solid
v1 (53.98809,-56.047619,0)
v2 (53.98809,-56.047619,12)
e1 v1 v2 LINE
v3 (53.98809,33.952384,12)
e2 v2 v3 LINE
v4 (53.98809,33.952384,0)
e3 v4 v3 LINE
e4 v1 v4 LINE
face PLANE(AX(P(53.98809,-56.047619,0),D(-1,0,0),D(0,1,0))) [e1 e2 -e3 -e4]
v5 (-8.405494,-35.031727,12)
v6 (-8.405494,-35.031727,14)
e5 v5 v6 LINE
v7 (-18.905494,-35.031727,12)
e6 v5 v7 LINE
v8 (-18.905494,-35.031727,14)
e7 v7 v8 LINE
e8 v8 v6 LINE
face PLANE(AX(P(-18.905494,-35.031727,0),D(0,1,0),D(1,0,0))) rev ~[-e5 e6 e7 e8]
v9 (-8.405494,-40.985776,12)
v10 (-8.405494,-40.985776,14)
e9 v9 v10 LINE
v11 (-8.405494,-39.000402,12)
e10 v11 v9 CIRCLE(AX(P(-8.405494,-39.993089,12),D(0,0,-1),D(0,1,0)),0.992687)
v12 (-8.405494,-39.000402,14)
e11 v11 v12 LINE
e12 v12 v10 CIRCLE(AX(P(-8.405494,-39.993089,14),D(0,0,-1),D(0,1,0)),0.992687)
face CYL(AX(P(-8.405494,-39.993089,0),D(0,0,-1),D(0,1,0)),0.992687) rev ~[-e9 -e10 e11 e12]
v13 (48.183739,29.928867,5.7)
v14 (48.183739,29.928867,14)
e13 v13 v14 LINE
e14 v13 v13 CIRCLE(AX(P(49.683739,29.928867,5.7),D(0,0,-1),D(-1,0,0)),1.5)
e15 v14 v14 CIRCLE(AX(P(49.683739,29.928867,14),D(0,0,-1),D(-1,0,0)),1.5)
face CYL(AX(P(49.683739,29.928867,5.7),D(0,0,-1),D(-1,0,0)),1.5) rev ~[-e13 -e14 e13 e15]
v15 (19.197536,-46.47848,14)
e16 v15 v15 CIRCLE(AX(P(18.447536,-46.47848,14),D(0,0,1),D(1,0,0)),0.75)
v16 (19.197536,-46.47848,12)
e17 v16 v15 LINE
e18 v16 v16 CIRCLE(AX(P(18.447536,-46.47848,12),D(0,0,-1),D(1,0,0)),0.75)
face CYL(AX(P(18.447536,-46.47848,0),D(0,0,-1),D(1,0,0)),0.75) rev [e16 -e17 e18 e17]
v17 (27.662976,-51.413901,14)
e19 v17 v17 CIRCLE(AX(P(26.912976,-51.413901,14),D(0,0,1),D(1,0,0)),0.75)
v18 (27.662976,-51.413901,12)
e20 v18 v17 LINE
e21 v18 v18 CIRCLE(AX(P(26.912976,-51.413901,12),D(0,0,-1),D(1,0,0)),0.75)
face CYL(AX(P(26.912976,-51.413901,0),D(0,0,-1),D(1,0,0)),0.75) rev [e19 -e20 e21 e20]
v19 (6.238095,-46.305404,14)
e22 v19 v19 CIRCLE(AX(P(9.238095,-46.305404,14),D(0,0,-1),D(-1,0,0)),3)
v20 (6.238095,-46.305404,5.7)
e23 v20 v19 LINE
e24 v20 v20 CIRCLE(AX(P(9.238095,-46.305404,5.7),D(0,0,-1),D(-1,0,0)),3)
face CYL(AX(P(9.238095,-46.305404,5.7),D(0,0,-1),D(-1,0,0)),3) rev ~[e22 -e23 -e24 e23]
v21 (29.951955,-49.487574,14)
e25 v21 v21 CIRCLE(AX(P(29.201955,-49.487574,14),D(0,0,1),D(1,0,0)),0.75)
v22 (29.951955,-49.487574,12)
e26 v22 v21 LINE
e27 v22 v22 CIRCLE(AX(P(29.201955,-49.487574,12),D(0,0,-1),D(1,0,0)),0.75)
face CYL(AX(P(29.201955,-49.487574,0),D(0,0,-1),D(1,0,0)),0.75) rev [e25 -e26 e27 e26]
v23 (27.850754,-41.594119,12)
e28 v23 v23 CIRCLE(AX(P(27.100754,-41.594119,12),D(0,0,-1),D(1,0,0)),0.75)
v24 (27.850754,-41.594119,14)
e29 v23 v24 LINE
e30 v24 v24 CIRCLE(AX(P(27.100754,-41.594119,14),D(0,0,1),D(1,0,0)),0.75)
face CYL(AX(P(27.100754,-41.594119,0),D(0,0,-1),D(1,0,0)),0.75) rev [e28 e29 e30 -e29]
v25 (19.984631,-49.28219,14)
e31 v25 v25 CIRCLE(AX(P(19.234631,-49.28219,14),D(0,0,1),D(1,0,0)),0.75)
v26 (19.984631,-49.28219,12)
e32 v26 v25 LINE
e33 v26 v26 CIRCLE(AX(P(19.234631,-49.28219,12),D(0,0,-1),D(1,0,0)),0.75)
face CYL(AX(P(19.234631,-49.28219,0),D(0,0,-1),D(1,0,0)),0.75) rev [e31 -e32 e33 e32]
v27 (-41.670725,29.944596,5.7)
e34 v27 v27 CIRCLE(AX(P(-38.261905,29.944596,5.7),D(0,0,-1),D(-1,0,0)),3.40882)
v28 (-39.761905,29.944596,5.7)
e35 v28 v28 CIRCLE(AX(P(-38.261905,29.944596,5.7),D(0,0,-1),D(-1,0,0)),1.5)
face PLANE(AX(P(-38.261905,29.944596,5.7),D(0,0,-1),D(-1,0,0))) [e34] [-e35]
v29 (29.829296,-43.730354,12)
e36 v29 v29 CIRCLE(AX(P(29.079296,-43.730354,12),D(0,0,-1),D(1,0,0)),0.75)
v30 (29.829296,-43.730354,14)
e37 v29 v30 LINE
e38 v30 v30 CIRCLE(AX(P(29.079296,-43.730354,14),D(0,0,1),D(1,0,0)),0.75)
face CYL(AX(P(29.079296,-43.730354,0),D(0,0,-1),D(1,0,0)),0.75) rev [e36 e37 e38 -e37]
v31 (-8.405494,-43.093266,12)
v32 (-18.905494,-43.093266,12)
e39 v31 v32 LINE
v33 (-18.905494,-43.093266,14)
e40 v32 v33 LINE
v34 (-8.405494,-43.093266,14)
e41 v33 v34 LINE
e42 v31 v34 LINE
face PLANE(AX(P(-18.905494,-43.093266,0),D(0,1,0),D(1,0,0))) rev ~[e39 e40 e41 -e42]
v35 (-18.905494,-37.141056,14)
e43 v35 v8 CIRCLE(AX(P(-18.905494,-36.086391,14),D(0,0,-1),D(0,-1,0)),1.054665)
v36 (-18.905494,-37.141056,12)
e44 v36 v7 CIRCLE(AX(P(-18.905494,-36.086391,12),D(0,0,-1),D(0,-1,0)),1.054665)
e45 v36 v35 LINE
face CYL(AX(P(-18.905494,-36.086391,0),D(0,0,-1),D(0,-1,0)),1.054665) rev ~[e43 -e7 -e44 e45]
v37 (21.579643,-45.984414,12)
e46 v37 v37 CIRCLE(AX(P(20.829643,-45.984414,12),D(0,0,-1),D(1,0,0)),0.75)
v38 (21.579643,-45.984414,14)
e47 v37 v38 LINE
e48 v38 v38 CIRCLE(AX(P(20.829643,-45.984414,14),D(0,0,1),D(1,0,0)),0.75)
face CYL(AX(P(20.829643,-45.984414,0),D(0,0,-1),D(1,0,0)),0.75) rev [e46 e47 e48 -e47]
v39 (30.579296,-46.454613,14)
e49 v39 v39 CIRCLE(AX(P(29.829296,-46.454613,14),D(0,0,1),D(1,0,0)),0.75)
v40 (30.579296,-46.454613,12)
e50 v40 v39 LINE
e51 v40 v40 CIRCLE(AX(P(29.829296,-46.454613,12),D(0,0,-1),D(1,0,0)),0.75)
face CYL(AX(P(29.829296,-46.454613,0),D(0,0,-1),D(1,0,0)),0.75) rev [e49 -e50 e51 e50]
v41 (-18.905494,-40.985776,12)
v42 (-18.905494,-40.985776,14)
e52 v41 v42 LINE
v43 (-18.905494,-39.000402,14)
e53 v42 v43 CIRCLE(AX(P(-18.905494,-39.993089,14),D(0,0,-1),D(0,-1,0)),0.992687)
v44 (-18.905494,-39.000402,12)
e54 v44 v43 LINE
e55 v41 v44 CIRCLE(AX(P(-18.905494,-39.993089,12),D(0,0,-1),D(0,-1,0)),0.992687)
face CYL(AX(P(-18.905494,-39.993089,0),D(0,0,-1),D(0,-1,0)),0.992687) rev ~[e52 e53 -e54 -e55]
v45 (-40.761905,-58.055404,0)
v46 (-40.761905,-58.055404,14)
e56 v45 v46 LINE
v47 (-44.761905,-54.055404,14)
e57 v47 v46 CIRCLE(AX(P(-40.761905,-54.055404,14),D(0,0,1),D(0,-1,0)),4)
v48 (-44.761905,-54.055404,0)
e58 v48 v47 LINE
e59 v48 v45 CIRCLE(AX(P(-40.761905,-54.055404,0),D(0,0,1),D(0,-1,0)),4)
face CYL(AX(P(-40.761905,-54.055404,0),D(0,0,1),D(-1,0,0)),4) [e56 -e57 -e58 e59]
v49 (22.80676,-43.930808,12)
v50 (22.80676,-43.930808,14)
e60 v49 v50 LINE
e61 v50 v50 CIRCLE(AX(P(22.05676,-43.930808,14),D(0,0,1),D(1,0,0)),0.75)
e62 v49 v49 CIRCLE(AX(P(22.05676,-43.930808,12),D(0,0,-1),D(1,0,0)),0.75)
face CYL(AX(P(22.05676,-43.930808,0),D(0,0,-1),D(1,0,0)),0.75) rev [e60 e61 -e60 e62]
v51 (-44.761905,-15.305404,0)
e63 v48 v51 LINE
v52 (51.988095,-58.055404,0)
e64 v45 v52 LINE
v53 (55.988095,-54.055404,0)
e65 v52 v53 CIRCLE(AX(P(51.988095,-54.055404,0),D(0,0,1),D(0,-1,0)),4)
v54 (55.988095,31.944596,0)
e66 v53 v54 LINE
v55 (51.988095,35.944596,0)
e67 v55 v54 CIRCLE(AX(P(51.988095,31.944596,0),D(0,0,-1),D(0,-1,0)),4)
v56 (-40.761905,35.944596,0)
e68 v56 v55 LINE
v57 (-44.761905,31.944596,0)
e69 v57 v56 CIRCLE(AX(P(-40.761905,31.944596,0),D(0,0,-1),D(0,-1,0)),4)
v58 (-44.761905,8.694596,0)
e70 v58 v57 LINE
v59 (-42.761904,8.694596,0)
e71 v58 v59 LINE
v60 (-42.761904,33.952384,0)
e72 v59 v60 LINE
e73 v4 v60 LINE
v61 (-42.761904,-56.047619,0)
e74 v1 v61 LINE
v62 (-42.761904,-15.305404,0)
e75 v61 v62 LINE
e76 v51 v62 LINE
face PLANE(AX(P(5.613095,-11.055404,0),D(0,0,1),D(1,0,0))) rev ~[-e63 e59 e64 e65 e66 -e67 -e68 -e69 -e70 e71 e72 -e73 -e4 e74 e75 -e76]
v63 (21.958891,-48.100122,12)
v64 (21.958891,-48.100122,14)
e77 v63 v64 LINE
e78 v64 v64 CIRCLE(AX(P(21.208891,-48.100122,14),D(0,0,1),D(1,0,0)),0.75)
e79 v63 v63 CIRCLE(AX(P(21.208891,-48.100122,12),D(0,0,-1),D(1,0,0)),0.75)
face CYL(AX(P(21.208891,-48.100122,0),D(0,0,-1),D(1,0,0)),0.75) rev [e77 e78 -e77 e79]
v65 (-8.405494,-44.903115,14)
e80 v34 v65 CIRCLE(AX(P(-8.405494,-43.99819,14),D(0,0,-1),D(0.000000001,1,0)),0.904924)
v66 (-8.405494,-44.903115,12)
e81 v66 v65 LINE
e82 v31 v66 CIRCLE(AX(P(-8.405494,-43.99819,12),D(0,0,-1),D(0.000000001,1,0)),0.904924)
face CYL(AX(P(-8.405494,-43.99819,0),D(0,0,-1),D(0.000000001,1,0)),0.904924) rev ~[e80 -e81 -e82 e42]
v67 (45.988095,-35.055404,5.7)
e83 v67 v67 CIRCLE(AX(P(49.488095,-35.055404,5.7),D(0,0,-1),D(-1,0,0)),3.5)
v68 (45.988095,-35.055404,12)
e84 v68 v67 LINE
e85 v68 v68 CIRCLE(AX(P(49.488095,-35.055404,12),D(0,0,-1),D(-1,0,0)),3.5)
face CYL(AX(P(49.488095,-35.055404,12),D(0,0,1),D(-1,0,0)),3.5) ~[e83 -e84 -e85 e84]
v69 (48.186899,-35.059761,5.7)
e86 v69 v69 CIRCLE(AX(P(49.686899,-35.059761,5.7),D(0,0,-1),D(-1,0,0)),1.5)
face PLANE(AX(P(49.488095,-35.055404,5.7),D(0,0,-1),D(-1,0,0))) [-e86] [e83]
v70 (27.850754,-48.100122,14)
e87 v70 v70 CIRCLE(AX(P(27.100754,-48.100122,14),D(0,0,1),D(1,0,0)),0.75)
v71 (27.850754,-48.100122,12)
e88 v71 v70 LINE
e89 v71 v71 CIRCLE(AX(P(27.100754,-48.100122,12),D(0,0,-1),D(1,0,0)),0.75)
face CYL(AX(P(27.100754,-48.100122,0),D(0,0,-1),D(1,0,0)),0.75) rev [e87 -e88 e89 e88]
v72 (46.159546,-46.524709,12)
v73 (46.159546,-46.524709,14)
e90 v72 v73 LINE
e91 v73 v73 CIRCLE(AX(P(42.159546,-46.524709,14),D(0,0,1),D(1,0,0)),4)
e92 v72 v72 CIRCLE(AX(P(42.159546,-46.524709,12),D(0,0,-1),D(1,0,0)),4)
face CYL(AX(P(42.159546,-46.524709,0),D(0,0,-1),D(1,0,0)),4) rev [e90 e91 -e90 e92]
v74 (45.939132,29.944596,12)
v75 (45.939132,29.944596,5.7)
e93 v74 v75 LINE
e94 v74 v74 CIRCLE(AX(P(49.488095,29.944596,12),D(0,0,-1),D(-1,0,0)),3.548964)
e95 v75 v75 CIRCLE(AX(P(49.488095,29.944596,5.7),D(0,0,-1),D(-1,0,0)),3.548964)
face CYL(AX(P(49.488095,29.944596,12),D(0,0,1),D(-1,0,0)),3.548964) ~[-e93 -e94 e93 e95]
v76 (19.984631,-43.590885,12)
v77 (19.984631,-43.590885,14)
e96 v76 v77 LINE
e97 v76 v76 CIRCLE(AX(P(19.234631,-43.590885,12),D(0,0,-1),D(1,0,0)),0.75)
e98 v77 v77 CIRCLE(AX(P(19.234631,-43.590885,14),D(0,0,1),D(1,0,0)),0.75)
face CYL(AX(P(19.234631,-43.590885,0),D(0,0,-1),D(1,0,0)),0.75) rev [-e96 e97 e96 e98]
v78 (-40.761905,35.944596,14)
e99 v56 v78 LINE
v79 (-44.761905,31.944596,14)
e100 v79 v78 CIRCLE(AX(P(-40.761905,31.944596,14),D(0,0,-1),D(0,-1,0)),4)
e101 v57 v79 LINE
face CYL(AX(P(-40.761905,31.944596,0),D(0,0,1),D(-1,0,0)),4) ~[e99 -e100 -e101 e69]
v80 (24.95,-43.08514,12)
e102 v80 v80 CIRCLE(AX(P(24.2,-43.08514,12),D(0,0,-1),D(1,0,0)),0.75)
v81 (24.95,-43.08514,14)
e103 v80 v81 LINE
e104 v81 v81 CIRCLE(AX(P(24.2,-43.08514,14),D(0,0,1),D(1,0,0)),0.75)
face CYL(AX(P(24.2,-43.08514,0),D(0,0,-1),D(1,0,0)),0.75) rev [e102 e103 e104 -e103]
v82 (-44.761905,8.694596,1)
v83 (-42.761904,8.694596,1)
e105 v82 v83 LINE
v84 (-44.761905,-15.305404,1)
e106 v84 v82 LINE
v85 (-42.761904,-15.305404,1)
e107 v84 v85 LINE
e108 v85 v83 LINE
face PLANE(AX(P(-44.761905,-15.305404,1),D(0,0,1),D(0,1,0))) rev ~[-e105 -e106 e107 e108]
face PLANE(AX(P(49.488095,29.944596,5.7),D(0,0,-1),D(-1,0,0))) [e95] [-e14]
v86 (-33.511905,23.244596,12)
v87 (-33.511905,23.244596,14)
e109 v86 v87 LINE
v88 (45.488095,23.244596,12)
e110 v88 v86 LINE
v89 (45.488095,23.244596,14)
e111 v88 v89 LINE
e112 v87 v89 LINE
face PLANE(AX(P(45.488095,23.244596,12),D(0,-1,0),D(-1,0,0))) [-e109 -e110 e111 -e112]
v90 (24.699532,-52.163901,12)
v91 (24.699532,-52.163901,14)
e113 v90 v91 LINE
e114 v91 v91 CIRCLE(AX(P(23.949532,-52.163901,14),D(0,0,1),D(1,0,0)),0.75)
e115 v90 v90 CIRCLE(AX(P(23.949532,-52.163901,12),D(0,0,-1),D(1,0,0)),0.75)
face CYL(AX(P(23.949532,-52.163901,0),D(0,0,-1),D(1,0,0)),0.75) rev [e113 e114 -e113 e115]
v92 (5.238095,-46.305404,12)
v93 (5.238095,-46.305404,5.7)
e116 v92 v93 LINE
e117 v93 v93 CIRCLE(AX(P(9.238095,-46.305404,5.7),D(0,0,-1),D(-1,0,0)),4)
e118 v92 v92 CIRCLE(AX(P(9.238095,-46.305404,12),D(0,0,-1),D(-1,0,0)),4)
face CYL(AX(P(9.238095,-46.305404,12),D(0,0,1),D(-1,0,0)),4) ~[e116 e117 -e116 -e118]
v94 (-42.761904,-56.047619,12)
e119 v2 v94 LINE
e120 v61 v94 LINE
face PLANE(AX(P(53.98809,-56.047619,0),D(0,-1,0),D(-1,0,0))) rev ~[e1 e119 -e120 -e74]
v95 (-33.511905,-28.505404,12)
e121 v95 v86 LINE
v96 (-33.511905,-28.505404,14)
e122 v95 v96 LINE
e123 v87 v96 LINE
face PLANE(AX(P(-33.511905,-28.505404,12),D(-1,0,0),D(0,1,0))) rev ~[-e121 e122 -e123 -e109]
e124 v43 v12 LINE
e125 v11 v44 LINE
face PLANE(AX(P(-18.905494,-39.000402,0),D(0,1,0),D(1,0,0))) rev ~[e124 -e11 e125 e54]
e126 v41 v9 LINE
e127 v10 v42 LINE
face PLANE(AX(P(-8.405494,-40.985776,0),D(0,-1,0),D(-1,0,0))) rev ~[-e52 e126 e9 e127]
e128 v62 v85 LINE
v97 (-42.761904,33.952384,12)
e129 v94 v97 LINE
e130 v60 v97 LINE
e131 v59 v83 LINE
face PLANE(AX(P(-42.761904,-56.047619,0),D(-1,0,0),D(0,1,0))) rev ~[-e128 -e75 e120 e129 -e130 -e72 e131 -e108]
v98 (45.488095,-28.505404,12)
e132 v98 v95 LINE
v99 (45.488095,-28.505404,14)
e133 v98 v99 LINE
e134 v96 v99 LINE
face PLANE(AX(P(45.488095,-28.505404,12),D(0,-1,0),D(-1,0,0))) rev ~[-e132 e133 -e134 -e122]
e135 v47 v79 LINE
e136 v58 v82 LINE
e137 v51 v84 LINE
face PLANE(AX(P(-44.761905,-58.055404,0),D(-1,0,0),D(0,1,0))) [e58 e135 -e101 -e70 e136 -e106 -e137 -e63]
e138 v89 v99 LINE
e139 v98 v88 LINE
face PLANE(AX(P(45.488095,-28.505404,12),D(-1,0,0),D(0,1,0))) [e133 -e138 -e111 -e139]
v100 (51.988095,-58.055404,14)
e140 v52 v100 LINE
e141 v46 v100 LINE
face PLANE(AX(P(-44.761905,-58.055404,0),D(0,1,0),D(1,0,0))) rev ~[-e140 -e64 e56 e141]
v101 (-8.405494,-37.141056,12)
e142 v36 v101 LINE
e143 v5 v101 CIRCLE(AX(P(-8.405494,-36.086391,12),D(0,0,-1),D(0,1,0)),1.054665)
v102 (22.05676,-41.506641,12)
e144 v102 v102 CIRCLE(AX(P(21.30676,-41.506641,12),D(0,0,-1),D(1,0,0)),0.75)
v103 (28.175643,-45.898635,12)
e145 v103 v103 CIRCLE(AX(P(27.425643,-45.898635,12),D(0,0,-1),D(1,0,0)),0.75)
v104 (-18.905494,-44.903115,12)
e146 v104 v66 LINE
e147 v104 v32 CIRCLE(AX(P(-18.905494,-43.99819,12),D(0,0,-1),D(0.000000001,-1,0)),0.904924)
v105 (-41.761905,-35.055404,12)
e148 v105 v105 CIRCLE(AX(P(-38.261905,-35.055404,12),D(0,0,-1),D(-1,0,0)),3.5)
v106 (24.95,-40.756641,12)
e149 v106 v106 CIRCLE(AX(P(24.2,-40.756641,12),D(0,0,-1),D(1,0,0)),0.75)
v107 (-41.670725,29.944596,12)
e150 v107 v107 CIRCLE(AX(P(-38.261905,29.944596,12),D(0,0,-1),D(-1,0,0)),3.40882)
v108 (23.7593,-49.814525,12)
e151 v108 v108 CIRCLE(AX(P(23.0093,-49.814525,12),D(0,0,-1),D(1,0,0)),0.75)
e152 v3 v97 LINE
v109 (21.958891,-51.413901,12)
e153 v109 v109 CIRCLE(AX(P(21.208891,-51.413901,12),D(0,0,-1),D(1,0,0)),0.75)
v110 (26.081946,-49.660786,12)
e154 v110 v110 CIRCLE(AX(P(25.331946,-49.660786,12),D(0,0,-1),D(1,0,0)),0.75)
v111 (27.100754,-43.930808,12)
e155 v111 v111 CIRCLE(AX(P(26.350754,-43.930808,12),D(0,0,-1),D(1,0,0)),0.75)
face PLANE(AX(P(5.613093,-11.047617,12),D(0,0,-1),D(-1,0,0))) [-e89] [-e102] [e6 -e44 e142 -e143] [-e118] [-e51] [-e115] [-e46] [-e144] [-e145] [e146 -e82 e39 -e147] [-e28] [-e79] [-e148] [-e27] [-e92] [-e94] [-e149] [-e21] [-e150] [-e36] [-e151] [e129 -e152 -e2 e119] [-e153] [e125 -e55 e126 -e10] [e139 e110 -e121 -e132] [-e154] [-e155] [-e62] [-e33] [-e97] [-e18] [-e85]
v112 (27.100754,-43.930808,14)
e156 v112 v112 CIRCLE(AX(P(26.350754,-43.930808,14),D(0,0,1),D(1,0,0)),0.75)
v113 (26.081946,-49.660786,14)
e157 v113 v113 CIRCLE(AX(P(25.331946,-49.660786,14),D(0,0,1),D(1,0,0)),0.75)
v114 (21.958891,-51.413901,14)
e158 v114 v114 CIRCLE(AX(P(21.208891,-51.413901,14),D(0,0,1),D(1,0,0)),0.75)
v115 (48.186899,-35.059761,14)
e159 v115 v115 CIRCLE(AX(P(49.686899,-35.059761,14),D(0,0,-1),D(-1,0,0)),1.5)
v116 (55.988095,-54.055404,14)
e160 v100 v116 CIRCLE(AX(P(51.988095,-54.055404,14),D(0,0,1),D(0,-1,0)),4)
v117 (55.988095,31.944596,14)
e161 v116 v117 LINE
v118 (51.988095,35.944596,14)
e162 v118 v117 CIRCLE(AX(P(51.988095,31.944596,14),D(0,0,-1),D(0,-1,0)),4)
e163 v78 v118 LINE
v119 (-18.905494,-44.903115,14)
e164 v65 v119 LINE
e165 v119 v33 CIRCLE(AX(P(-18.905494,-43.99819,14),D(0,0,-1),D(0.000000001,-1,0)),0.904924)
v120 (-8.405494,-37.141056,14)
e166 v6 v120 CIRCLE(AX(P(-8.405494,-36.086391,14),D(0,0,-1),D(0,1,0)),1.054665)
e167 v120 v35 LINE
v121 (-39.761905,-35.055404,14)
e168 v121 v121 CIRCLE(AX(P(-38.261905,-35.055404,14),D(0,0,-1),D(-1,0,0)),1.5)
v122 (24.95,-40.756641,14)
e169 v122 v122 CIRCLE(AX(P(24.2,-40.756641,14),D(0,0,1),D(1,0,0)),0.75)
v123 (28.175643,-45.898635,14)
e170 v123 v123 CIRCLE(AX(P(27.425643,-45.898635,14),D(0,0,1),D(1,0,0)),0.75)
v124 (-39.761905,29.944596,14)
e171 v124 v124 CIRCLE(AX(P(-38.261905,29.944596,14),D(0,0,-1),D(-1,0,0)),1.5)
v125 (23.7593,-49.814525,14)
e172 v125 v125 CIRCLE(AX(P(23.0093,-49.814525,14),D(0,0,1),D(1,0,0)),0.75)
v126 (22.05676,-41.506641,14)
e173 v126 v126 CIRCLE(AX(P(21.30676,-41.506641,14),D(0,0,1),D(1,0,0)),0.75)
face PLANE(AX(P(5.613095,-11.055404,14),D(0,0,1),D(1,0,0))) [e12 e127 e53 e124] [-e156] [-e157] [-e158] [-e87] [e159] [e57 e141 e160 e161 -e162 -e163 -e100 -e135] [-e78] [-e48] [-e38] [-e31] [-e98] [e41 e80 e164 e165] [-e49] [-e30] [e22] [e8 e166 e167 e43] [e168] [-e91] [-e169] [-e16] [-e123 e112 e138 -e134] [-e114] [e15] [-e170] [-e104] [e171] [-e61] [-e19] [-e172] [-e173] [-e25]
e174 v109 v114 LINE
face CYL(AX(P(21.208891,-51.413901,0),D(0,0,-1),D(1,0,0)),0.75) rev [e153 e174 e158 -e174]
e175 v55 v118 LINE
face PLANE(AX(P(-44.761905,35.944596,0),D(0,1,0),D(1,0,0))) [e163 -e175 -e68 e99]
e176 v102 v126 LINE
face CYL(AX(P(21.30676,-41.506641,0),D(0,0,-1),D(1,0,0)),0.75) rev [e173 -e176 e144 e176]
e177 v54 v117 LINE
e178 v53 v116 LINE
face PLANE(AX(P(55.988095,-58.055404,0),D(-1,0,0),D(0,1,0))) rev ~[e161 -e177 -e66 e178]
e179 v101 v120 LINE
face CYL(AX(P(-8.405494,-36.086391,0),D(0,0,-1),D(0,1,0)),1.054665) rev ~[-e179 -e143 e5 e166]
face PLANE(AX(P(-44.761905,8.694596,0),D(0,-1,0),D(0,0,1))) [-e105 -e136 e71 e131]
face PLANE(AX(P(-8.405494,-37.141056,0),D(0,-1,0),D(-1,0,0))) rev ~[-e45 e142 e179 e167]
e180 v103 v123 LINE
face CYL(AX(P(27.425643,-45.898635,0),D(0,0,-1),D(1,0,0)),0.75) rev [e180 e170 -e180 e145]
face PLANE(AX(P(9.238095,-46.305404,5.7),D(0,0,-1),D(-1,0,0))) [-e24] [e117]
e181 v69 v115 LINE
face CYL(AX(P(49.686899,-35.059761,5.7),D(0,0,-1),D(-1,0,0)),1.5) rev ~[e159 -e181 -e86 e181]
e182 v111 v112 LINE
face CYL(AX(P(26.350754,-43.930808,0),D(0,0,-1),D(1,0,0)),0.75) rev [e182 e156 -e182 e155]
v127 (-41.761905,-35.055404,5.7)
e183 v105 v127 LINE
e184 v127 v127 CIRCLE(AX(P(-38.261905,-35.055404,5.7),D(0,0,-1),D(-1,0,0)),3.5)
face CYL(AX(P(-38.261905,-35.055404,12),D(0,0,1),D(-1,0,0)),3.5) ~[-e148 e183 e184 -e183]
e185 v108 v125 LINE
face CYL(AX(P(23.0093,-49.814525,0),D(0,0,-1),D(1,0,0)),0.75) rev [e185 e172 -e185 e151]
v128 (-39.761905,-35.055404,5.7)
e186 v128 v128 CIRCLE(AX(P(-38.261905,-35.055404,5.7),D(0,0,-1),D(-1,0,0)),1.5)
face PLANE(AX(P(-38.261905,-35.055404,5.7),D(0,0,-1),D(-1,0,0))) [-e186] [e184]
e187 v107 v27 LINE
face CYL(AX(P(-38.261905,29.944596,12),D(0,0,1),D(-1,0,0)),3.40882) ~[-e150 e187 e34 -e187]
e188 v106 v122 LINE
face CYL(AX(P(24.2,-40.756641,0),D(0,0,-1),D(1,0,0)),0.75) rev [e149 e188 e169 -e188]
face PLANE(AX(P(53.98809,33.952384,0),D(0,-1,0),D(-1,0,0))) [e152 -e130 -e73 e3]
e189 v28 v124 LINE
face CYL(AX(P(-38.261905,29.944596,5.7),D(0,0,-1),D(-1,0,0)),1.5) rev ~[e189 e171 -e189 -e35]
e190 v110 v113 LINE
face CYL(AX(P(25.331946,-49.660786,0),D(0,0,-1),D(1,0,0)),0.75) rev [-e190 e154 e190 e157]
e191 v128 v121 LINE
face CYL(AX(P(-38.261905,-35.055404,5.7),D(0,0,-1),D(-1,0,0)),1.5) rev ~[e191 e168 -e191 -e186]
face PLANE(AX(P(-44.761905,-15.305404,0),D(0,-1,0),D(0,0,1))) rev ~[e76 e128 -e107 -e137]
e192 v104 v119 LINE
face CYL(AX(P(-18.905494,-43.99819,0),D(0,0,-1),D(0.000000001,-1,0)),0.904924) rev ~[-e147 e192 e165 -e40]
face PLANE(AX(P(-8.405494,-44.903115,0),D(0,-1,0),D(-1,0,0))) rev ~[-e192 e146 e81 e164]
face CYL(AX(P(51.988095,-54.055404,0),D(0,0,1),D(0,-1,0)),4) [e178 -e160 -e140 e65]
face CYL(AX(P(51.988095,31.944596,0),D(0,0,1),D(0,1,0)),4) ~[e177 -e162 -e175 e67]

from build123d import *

# Parameters (mm, degrees)
SKETCH1_W           = 100.75
SKETCH1_H           = 94
SKETCH1_R           = 4
SKETCH1_R_2         = 0.75
BOSS_EXTRUDE1_DEPTH = 14
SKETCH2_W           = 96.749994904
SKETCH2_H           = 90.000003576
CUT_EXTRUDE1_DEPTH  = 12
SKETCH3_R           = 3.548963513
SKETCH3_R_2         = 3.408819902
SKETCH3_R_3         = 3.5
BOSS_EXTRUDE2_DEPTH = 6.3
SKETCH4_R           = 4
BOSS_EXTRUDE3_DEPTH = 6.3
SKETCH7_R           = 1.5
CUT_EXTRUDE2_DEPTH  = 10
SKETCH11_R          = 3
CUT_EXTRUDE3_DEPTH  = 10
SKETCH10_R          = 1.5
CUT_EXTRUDE4_DEPTH  = 10
SKETCH9_R           = 1.5
CUT_EXTRUDE5_DEPTH  = 10
SKETCH12_W          = 79
SKETCH12_H          = 51.75
CUT_EXTRUDE6_DEPTH  = 6.3
FILLET1_R           = 4
SKETCH13_W          = 1
SKETCH13_H          = 24
CUT_EXTRUDE7_DEPTH  = 3


with BuildPart() as part:
    # Sketch1 → Boss-Extrude1 (new body)
    with BuildSketch(Plane.XY):
        with Locations((5.613095238, -11.055404346)):
            Rectangle(SKETCH1_W, SKETCH1_H)
        with Locations((42.159546405, -46.524709499)):
            Circle(SKETCH1_R, mode=Mode.SUBTRACT)
        with Locations((18.44753625, -46.478480461)):
            Circle(SKETCH1_R_2, mode=Mode.SUBTRACT)
        with Locations((19.234631499, -43.590885312)):
            Circle(SKETCH1_R_2, mode=Mode.SUBTRACT)
        with Locations((21.306759983, -41.506641185)):
            Circle(SKETCH1_R_2, mode=Mode.SUBTRACT)
        with Locations((24.200000332, -40.756641185)):
            Circle(SKETCH1_R_2, mode=Mode.SUBTRACT)
        with Locations((27.10075415, -41.594119124)):
            Circle(SKETCH1_R_2, mode=Mode.SUBTRACT)
        with Locations((29.079295953, -43.730354454)):
            Circle(SKETCH1_R_2, mode=Mode.SUBTRACT)
        with Locations((26.35075415, -43.930808011)):
            Circle(SKETCH1_R_2, mode=Mode.SUBTRACT)
        with Locations((24.200000332, -43.085140439)):
            Circle(SKETCH1_R_2, mode=Mode.SUBTRACT)
        with Locations((22.056759983, -43.930808011)):
            Circle(SKETCH1_R_2, mode=Mode.SUBTRACT)
        with Locations((20.829643134, -45.984414142)):
            Circle(SKETCH1_R_2, mode=Mode.SUBTRACT)
        with Locations((21.208891166, -48.100122201)):
            Circle(SKETCH1_R_2, mode=Mode.SUBTRACT)
        with Locations((23.009299731, -49.814525249)):
            Circle(SKETCH1_R_2, mode=Mode.SUBTRACT)
        with Locations((25.331945715, -49.660785564)):
            Circle(SKETCH1_R_2, mode=Mode.SUBTRACT)
        with Locations((27.10075415, -48.100122201)):
            Circle(SKETCH1_R_2, mode=Mode.SUBTRACT)
        with Locations((27.425643307, -45.898634663)):
            Circle(SKETCH1_R_2, mode=Mode.SUBTRACT)
        with Locations((29.829295953, -46.454612718)):
            Circle(SKETCH1_R_2, mode=Mode.SUBTRACT)
        with Locations((29.201955135, -49.487574185)):
            Circle(SKETCH1_R_2, mode=Mode.SUBTRACT)
        with Locations((26.912976345, -51.413900689)):
            Circle(SKETCH1_R_2, mode=Mode.SUBTRACT)
        with Locations((23.949532439, -52.163900689)):
            Circle(SKETCH1_R_2, mode=Mode.SUBTRACT)
        with Locations((21.208891166, -51.413900689)):
            Circle(SKETCH1_R_2, mode=Mode.SUBTRACT)
        with Locations((19.234631499, -49.282190221)):
            Circle(SKETCH1_R_2, mode=Mode.SUBTRACT)
        with BuildLine():
            Line((-18.905494332, -35.031726566), (-8.405494332, -35.031726566))
            ThreePointArc((-8.405494332, -35.031726566), (-7.350829628, -36.08639127), (-8.405494332, -37.141055974))
            Line((-8.405494332, -37.141055974), (-18.905494332, -37.141055974))
            ThreePointArc((-18.905494332, -37.141055974), (-19.960159036, -36.08639127), (-18.905494332, -35.031726566))
        make_face(mode=Mode.SUBTRACT)
        with BuildLine():
            Line((-18.905494332, -39.000402281), (-8.405494332, -39.000402281))
            ThreePointArc((-8.405494332, -39.000402281), (-7.412807684, -39.993088929), (-8.405494332, -40.985775577))
            Line((-8.405494332, -40.985775577), (-18.905494332, -40.985775577))
            ThreePointArc((-18.905494332, -40.985775577), (-19.89818098, -39.993088929), (-18.905494332, -39.000402281))
        make_face(mode=Mode.SUBTRACT)
        with BuildLine():
            Line((-18.905494332, -43.093266368), (-8.405494332, -43.093266368))
            ThreePointArc((-8.405494332, -43.093266368), (-7.500570206, -43.998190495), (-8.405494332, -44.903114621))
            Line((-8.405494332, -44.903114621), (-18.905494332, -44.903114621))
            ThreePointArc((-18.905494332, -44.903114621), (-19.810418459, -43.998190495), (-18.905494332, -43.093266368))
        make_face(mode=Mode.SUBTRACT)
    extrude(amount=BOSS_EXTRUDE1_DEPTH)

    # Sketch2 → Cut-Extrude1 (cut)
    with BuildSketch(Plane(origin=(0, 0, 0), x_dir=(-1, 0, 0), z_dir=(0, 0, -1))):
        with Locations((-5.613093018, -11.047617438)):
            Rectangle(SKETCH2_W, SKETCH2_H)
    extrude(amount=-CUT_EXTRUDE1_DEPTH, mode=Mode.SUBTRACT)

    # Sketch3 → Boss-Extrude2 (add)
    with BuildSketch(Plane(origin=(0, 0, 12), x_dir=(-1, 0, 0), z_dir=(0, 0, -1))):
        with Locations((-49.488095238, 29.944595654)):
            Circle(SKETCH3_R)
        with Locations((38.261904762, 29.944595654)):
            Circle(SKETCH3_R_2)
        with Locations((38.261904762, -35.055404346)):
            Circle(SKETCH3_R_3)
        with Locations((-49.488095238, -35.055404346)):
            Circle(SKETCH3_R_3)
    extrude(amount=BOSS_EXTRUDE2_DEPTH)

    # Sketch4 → Boss-Extrude3 (add)
    with BuildSketch(Plane(origin=(0, 0, 12), x_dir=(-1, 0, 0), z_dir=(0, 0, -1))):
        with Locations((-9.238095238, -46.305404346)):
            Circle(SKETCH4_R)
    extrude(amount=BOSS_EXTRUDE3_DEPTH)

    # Sketch7 → Cut-Extrude2 (cut)
    with BuildSketch(Plane(origin=(0, 0, 5.7), x_dir=(-1, 0, 0), z_dir=(0, 0, -1))):
        with Locations((-49.68373898, 29.928867)):
            Circle(SKETCH7_R)
    extrude(amount=-CUT_EXTRUDE2_DEPTH, mode=Mode.SUBTRACT)

    # Sketch11 → Cut-Extrude3 (cut)
    with BuildSketch(Plane(origin=(0, 0, 5.7), x_dir=(-1, 0, 0), z_dir=(0, 0, -1))):
        with Locations((-9.238095238, -46.305404346)):
            Circle(SKETCH11_R)
    extrude(amount=-CUT_EXTRUDE3_DEPTH, mode=Mode.SUBTRACT)

    # Sketch10 → Cut-Extrude4 (cut)
    with BuildSketch(Plane(origin=(0, 0, 5.7), x_dir=(-1, 0, 0), z_dir=(0, 0, -1))):
        with Locations((-49.686899023, -35.059761001)):
            Circle(SKETCH10_R)
    extrude(amount=-CUT_EXTRUDE4_DEPTH, mode=Mode.SUBTRACT)

    # Sketch9 → Cut-Extrude5 (cut)
    with BuildSketch(Plane(origin=(0, 0, 5.7), x_dir=(-1, 0, 0), z_dir=(0, 0, -1))):
        with Locations((38.261904762, 29.944595654)):
            Circle(SKETCH9_R)
        with Locations((38.261904762, -35.055404346)):
            Circle(SKETCH9_R)
    extrude(amount=-CUT_EXTRUDE5_DEPTH, mode=Mode.SUBTRACT)

    # Sketch12 → Cut-Extrude6 (cut)
    with BuildSketch(Plane(origin=(0, 0, 12), x_dir=(-1, 0, 0), z_dir=(0, 0, -1))):
        with Locations((-5.988095238, -2.630404346)):
            Rectangle(SKETCH12_W, SKETCH12_H)
    extrude(amount=-CUT_EXTRUDE6_DEPTH, mode=Mode.SUBTRACT)

    # Fillet1
    fillet1_edges = [part.edges().sort_by_distance(p)[0] for p in [
        (-44.761904762, 35.944595654, 7),
        (55.988095238, 35.944595654, 7),
        (55.988095238, -58.055404346, 7),
        (-44.761904762, -58.055404346, 7),
    ]]
    fillet(fillet1_edges, radius=FILLET1_R)

    # Sketch13 → Cut-Extrude7 (cut)
    with BuildSketch(Plane.ZY.offset(44.761904762)):
        with Locations((0.5, -3.305404346)):
            Rectangle(SKETCH13_W, SKETCH13_H)
    extrude(amount=-CUT_EXTRUDE7_DEPTH, mode=Mode.SUBTRACT)


solid = part.part
